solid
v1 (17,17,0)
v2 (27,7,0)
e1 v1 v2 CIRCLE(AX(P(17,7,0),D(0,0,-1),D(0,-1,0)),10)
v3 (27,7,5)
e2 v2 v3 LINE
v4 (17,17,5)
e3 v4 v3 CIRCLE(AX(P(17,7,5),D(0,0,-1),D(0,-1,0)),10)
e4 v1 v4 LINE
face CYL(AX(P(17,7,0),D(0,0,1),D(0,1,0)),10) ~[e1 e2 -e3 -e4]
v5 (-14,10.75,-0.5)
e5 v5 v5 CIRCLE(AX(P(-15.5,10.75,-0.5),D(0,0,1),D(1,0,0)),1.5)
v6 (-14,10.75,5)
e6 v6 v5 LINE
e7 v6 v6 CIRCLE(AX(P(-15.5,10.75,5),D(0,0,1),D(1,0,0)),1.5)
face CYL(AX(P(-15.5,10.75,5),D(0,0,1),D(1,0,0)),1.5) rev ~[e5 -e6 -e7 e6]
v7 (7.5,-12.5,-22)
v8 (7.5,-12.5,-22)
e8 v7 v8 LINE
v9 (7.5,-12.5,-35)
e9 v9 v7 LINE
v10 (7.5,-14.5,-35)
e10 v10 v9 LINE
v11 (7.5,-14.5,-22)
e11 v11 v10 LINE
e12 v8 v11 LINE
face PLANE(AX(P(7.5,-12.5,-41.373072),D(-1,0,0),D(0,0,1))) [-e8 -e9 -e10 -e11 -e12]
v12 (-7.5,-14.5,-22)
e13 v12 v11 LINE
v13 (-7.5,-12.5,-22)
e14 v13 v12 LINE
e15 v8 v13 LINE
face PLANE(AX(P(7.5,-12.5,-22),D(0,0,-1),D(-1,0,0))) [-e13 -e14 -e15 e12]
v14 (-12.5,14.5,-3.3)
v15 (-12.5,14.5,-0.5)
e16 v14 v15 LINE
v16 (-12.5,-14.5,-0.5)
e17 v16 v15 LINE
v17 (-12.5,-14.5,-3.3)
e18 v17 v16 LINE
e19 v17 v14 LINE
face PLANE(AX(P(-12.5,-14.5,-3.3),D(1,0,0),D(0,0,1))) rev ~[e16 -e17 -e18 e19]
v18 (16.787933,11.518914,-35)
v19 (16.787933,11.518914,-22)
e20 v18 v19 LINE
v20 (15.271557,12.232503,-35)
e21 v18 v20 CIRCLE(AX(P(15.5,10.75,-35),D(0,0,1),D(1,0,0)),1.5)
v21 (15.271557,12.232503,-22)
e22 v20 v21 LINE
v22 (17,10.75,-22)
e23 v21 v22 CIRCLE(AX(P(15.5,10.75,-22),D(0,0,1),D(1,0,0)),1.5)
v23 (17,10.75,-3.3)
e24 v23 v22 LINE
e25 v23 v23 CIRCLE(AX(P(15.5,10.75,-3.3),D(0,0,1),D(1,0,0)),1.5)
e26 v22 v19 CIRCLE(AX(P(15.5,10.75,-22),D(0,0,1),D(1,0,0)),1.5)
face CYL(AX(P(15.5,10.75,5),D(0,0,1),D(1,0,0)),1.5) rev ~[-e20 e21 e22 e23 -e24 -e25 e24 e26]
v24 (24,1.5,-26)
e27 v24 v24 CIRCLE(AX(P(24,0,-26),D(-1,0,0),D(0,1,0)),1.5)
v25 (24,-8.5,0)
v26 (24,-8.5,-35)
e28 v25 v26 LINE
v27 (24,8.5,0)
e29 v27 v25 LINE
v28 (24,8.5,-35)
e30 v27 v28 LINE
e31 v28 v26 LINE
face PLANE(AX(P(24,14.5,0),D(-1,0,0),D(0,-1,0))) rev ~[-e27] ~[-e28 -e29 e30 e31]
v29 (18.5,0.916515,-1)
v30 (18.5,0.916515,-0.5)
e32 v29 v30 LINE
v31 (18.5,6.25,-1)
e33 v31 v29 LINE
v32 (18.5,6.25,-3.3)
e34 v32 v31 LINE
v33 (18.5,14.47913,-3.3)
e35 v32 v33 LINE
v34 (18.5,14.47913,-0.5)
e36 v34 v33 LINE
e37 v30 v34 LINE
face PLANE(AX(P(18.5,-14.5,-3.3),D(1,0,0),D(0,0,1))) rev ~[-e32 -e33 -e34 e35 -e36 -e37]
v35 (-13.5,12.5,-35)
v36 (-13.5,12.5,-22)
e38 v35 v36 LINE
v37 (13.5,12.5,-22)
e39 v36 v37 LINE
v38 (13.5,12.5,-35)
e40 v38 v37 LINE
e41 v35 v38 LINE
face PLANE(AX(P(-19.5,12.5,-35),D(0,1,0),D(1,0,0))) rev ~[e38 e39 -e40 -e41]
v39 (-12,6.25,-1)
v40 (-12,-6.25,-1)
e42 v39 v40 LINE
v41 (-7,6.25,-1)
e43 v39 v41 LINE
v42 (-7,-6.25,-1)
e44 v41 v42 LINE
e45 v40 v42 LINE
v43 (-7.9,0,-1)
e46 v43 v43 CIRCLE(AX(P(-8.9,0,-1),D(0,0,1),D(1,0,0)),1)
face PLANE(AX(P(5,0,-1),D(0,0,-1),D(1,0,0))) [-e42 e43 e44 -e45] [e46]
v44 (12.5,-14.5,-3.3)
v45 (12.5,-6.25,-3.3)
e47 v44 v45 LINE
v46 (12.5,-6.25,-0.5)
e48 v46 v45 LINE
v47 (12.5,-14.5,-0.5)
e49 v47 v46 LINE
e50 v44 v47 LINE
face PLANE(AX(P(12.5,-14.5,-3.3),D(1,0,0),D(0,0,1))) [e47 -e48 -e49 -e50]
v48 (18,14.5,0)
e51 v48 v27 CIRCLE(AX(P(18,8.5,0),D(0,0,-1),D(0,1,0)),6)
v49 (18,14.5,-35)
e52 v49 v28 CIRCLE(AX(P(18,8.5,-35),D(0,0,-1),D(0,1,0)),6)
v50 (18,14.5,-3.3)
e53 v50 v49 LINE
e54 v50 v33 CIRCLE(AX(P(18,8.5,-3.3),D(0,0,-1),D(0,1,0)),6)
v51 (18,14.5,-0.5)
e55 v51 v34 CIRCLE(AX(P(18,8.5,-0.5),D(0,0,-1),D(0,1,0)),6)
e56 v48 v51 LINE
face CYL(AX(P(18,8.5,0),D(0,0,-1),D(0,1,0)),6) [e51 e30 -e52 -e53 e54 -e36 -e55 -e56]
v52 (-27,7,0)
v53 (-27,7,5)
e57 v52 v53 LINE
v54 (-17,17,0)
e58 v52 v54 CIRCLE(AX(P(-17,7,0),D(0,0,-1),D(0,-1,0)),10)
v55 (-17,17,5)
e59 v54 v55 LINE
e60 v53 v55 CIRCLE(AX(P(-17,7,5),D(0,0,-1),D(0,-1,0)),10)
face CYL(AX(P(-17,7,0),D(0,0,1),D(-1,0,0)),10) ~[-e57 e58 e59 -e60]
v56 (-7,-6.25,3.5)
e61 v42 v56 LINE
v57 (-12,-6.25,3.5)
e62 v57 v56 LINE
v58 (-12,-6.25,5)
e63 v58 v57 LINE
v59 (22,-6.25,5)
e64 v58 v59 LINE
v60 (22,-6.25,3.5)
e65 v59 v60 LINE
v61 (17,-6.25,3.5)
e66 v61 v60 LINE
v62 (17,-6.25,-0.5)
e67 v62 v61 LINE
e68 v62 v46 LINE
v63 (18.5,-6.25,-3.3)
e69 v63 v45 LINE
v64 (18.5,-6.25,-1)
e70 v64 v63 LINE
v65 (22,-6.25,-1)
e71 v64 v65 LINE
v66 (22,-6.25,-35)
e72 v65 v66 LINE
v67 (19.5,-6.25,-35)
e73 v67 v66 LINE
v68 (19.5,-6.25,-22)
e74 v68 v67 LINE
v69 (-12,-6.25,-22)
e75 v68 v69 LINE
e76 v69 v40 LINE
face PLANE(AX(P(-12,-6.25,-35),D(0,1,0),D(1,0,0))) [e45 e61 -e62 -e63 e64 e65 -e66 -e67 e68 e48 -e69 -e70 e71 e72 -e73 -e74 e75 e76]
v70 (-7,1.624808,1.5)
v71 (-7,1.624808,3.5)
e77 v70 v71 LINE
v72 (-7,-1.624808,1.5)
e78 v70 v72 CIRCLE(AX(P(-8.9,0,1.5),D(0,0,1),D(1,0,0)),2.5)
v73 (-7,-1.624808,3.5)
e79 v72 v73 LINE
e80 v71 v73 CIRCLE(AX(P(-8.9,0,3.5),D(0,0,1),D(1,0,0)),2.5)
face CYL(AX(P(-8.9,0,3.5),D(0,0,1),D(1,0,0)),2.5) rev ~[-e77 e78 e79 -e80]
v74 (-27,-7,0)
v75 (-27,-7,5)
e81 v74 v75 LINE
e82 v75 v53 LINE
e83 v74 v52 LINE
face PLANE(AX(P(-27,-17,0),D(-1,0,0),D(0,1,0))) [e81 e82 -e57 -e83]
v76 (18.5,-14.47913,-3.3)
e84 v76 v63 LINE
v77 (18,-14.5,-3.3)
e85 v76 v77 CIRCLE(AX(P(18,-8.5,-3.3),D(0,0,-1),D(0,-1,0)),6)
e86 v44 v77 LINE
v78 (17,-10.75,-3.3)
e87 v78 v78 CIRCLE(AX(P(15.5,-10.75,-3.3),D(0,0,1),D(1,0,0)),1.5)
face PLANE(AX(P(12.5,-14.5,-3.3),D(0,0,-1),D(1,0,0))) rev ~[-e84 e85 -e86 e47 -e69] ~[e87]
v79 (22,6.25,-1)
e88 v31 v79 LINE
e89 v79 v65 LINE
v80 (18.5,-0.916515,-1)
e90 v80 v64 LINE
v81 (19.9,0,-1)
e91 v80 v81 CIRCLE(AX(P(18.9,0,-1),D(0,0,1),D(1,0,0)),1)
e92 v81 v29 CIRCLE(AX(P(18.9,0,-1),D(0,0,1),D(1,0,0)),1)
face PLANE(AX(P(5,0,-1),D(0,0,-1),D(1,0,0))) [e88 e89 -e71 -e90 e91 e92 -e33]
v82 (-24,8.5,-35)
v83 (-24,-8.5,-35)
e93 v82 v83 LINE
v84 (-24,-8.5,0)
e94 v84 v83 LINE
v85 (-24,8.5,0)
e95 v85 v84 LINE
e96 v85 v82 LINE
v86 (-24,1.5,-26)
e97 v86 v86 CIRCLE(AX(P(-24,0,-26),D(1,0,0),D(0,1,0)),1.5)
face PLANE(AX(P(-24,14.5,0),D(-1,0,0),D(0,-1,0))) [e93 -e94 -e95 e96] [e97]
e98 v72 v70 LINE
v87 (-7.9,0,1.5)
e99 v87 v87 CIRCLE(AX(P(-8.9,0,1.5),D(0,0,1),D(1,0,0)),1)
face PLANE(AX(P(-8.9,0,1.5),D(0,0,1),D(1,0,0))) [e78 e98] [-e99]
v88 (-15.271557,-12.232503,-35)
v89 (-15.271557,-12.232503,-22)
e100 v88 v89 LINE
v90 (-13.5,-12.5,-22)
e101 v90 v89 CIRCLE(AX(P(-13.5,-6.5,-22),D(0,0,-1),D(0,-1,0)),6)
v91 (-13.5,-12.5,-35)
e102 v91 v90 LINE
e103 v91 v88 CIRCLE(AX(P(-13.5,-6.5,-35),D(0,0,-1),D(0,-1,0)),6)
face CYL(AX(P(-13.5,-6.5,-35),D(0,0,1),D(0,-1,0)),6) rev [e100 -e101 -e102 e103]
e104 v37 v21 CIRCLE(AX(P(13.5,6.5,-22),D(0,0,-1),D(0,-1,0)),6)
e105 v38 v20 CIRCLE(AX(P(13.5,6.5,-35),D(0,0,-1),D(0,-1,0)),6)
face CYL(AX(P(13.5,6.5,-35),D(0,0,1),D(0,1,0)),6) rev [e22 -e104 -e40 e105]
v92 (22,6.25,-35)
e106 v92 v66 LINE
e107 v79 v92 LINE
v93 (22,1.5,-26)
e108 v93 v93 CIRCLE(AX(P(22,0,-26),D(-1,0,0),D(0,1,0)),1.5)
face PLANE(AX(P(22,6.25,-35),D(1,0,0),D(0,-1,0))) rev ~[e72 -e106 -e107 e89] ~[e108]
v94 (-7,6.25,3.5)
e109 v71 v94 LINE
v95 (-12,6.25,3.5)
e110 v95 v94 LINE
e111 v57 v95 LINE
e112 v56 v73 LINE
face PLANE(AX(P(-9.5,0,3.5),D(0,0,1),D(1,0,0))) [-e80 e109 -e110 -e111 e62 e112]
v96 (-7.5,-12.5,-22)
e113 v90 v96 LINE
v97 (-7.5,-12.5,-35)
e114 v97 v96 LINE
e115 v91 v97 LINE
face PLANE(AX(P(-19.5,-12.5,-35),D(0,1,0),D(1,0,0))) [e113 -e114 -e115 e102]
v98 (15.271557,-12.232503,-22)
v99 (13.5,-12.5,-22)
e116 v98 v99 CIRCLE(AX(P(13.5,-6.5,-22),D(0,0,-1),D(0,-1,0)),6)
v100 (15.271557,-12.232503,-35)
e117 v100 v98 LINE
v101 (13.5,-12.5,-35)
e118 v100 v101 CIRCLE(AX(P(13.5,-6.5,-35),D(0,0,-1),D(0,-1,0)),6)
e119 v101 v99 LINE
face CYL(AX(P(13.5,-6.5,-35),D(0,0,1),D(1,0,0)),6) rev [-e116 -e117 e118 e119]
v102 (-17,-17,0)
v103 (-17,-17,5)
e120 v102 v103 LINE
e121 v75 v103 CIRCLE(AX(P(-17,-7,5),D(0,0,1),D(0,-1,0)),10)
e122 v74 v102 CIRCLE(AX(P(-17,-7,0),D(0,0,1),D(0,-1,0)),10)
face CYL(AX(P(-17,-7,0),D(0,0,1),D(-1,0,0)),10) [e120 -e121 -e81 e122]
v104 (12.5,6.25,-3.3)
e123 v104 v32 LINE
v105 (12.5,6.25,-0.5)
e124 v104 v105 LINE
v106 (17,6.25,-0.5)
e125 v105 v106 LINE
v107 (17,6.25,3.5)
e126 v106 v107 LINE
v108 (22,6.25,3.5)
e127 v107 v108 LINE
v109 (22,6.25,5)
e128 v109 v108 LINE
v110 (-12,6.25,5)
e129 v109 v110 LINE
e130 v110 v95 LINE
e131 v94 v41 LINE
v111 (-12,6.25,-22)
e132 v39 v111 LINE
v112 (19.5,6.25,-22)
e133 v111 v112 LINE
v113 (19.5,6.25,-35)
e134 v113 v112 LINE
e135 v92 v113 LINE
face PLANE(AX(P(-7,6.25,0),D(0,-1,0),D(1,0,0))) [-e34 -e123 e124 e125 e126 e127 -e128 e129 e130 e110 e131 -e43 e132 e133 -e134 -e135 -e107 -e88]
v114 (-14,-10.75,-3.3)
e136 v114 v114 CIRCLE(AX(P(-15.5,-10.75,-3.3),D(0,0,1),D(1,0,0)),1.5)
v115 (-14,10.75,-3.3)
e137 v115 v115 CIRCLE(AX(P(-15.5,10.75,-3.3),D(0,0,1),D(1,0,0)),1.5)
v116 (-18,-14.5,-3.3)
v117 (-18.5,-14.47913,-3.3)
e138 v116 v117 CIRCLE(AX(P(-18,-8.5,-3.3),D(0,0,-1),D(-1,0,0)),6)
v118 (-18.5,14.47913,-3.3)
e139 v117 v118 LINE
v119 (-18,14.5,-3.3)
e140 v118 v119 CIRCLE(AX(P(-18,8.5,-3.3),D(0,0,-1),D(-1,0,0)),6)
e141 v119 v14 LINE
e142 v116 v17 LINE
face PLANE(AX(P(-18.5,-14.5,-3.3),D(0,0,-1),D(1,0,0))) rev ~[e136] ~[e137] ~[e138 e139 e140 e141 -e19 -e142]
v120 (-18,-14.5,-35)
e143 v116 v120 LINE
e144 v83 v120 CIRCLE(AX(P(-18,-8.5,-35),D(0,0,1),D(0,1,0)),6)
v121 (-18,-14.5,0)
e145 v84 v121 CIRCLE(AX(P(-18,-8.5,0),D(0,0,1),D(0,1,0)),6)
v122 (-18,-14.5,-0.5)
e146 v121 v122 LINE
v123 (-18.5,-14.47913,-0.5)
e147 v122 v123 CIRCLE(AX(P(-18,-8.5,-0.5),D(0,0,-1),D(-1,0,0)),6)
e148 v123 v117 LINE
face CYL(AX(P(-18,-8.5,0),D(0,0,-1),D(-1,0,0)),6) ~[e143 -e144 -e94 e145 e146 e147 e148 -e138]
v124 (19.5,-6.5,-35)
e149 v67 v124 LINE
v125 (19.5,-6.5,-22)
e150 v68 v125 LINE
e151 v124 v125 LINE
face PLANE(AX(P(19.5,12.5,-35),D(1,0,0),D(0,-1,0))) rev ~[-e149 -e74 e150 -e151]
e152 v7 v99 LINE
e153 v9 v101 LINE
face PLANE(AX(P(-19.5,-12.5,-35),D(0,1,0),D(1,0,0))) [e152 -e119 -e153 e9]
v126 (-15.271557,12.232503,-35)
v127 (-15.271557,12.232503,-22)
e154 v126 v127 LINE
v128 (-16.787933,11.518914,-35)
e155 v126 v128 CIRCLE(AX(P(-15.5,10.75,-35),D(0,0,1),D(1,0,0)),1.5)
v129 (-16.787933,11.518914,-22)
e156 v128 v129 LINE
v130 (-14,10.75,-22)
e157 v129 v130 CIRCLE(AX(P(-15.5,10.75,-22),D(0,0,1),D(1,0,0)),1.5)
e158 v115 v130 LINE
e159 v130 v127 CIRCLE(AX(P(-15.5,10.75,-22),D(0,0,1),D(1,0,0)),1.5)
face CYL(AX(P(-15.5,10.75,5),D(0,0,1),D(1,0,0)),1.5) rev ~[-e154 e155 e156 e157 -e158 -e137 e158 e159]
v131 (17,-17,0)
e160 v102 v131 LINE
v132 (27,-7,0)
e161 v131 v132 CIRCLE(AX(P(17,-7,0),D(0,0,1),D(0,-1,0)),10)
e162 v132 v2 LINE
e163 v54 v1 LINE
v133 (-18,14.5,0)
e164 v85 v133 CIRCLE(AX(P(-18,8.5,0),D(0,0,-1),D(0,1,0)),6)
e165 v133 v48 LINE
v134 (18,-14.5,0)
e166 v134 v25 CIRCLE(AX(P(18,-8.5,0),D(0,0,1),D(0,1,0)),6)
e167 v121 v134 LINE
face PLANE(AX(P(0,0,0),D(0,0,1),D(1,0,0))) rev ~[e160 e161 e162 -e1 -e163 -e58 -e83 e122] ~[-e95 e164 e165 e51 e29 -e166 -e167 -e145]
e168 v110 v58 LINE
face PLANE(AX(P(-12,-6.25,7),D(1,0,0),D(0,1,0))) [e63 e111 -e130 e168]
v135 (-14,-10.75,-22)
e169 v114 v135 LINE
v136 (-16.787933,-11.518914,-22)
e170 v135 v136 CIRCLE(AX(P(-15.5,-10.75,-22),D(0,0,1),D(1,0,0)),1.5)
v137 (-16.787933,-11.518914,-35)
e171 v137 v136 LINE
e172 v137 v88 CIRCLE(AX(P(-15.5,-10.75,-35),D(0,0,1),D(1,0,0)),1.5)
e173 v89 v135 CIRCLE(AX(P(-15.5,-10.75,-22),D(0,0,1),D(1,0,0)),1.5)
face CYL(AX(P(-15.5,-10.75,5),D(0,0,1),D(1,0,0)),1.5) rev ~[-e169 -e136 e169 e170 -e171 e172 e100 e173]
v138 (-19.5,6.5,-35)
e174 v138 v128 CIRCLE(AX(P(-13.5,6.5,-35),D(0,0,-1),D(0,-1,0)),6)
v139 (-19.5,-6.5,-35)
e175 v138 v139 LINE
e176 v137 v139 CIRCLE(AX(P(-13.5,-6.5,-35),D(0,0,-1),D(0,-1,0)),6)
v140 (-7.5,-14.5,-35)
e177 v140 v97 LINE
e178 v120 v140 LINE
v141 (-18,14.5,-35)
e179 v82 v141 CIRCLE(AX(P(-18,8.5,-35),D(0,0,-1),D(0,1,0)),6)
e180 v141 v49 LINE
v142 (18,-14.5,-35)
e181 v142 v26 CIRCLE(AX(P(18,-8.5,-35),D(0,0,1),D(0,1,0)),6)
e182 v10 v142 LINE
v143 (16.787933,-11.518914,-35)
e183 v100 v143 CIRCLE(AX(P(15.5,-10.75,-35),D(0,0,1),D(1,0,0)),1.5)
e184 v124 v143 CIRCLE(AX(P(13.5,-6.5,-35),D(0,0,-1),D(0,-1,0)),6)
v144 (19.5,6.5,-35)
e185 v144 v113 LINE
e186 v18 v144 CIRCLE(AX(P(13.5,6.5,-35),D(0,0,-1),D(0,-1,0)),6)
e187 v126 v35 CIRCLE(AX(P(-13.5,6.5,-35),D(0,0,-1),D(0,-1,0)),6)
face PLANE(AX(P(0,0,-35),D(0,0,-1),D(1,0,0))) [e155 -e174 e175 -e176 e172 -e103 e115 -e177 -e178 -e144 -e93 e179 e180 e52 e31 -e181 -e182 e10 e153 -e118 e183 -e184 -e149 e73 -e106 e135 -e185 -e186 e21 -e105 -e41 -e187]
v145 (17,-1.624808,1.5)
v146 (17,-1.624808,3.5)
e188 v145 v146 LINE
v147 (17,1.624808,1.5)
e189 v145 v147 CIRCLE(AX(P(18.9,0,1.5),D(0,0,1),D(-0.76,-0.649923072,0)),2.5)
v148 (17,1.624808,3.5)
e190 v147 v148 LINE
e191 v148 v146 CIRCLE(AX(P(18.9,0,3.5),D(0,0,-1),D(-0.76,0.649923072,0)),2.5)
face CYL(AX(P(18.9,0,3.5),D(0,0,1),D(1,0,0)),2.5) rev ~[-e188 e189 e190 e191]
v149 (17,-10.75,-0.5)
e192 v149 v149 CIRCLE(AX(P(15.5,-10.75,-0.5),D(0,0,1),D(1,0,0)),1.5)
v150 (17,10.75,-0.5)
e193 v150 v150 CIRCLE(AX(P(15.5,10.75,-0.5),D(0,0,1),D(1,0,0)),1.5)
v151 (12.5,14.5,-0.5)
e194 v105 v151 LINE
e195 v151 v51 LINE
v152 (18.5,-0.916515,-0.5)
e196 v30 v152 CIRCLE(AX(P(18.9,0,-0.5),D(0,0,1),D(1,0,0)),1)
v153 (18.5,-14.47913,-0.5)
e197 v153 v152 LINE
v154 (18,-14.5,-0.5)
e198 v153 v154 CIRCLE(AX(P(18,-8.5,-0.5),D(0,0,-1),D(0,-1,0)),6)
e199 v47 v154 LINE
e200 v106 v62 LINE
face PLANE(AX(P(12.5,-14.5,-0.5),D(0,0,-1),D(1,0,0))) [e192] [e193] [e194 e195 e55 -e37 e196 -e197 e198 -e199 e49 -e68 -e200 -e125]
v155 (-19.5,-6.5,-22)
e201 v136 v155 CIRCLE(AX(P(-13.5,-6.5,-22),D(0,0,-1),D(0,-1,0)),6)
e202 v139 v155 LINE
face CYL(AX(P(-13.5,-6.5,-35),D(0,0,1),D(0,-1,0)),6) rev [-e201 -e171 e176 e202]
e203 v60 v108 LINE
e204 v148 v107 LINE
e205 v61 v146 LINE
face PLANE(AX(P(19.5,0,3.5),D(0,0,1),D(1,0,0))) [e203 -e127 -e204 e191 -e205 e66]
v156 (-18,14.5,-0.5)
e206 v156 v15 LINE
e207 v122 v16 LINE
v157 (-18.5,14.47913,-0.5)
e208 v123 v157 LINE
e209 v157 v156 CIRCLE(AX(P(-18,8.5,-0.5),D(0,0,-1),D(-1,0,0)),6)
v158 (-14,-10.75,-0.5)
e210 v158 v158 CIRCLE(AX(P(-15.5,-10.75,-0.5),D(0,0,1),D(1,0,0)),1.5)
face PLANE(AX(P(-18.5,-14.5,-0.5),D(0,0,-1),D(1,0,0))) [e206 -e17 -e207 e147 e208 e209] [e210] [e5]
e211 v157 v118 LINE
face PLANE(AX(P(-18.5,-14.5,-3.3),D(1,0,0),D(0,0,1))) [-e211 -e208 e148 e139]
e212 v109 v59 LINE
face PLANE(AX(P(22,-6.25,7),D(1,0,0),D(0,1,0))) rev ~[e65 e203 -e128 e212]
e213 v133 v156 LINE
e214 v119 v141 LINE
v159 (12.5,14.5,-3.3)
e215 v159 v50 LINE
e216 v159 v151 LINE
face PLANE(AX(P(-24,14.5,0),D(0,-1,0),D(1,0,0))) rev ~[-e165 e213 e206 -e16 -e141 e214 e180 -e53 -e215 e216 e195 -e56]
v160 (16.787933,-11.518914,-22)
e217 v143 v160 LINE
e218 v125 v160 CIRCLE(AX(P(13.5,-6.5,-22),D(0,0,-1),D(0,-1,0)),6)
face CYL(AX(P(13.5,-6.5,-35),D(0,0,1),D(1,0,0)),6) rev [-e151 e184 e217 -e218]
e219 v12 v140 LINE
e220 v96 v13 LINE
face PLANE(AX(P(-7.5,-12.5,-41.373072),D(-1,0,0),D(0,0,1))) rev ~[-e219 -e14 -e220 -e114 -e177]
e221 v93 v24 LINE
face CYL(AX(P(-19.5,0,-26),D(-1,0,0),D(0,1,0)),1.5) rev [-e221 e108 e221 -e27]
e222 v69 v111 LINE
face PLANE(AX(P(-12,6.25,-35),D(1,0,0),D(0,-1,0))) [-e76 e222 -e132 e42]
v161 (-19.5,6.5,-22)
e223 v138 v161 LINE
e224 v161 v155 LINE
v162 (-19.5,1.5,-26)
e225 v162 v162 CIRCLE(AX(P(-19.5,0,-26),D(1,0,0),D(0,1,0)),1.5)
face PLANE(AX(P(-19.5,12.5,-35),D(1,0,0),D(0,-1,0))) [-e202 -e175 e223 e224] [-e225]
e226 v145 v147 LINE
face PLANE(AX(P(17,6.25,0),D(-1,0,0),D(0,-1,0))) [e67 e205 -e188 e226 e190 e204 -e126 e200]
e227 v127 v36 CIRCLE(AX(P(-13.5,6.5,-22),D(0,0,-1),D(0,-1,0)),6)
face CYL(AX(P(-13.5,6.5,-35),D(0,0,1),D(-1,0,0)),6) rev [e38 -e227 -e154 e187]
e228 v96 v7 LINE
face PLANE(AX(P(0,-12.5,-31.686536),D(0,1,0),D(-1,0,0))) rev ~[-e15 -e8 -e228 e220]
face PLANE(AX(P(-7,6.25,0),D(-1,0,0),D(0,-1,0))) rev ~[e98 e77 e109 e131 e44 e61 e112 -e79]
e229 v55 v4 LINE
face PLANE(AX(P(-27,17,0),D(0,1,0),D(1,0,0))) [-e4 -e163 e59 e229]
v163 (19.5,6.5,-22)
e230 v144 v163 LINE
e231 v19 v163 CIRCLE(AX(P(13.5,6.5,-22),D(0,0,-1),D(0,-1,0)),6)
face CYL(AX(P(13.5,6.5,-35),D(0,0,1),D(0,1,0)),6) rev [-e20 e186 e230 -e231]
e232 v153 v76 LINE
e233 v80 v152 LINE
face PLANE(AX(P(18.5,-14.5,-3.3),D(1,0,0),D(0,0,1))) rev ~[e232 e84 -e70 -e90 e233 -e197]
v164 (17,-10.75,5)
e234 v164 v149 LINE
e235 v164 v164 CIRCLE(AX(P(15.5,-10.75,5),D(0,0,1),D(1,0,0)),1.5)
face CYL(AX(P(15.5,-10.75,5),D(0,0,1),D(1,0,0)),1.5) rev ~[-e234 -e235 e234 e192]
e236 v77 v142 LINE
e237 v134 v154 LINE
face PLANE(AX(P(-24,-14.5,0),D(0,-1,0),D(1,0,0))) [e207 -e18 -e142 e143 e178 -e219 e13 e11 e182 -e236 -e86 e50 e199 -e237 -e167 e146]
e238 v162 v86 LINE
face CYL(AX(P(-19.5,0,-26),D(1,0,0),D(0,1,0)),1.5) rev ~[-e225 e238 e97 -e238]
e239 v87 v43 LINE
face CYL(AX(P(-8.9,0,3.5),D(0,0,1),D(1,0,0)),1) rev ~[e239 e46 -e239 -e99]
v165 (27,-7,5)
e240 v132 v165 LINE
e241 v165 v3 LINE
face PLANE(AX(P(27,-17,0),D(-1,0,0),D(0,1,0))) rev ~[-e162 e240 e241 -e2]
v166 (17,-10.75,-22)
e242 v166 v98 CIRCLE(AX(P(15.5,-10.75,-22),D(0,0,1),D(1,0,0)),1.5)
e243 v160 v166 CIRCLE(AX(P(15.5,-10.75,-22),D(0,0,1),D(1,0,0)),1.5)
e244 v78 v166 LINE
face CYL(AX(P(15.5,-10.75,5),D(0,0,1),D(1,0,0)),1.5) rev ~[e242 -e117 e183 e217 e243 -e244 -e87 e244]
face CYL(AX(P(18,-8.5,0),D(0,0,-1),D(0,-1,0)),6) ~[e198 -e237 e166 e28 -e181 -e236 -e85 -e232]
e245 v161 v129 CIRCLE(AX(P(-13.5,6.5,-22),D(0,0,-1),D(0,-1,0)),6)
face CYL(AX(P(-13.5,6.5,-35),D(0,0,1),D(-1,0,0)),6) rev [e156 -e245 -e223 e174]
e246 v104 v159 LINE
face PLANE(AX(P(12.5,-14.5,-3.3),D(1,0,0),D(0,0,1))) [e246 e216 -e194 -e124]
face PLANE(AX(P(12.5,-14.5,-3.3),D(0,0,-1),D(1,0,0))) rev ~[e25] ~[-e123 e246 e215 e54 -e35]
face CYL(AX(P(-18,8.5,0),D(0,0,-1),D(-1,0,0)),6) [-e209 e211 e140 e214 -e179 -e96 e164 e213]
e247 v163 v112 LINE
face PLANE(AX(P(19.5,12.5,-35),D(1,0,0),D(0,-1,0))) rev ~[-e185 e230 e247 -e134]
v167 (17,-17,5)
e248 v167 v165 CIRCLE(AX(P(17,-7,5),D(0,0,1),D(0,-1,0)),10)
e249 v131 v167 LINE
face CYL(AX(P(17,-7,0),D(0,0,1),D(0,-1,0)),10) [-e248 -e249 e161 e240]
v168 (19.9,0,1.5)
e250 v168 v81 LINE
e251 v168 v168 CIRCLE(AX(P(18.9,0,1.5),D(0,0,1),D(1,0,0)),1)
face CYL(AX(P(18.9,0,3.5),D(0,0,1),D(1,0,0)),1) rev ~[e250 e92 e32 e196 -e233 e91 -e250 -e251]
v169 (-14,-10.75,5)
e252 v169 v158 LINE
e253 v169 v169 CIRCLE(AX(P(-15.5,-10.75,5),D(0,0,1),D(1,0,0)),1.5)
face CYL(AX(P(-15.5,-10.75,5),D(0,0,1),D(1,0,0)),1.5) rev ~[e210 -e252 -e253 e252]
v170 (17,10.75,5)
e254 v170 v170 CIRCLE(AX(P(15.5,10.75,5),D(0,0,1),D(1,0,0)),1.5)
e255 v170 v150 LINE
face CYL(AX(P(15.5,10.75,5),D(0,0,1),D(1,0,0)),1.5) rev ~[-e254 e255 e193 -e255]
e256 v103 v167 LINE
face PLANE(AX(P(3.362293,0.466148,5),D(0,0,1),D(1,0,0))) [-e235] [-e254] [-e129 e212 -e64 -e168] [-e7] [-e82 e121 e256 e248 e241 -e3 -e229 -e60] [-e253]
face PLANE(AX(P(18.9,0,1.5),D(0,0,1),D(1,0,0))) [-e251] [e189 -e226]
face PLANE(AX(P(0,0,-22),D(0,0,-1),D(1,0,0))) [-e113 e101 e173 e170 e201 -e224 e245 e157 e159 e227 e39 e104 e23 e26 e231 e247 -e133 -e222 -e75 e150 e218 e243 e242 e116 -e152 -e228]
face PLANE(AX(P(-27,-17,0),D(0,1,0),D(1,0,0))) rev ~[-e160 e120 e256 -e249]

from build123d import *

# Parameters (mm, degrees)
SKETCH_W             = 54
SKETCH_H             = 34
SKETCH_W_2           = 24
SKETCH_H_2           = 12.5
PAD_DEPTH            = 7
SKETCH001_W          = 5
SKETCH001_H          = 12.5
POCKET_DEPTH         = 3.5
SKETCH002_W          = 48
SKETCH002_H          = 29
SKETCH002_W_2        = 24
SKETCH002_H_2        = 12.5
PAD001_DEPTH         = 35
SKETCH003_R          = 1
POCKET001_DEPTH      = 38.501
SKETCH004_W          = 34
SKETCH004_H          = 12.5
POCKET002_DEPTH      = 30
SKETCH005_W          = 39
SKETCH005_H          = 25
POCKET003_DEPTH      = 13
FILLET_R             = 6
SKETCH007_R          = 1.5
POCKET004_DEPTH      = 100
POCKET004_DEPTH_BACK = -100
SKETCH008_W          = 79.100983
SKETCH008_H          = 51.359413
POCKET005_DEPTH      = 2
SKETCH009_W          = 34
SKETCH009_H          = 12.5
POCKET006_DEPTH      = 4
SKETCH010_W          = 15
SKETCH010_H          = 19.373073
POCKET007_DEPTH      = 5
SKETCH011_R          = 1.5
POCKET008_DEPTH      = 40.001
SKETCH012_W          = 6
SKETCH012_H          = 2.8
POCKET009_DEPTH      = 31.501
FILLET001_R          = 10
SKETCH013_R          = 2.5
POCKET010_DEPTH      = 2


with BuildPart() as part:
    # Sketch → Pad (new body)
    with BuildSketch(Plane.XY):
        Rectangle(SKETCH_W, SKETCH_H)
        with Locations((5, 0)):
            Rectangle(SKETCH_W_2, SKETCH_H_2, mode=Mode.SUBTRACT)
    extrude(amount=PAD_DEPTH)

    # Sketch001 (on Face10 of Pad) → Pocket (cut)
    with BuildSketch(Plane.XY.offset(7)):
        with Locations((-9.5, 0)):
            Rectangle(SKETCH001_W, SKETCH001_H)
        with Locations((19.5, 0)):
            Rectangle(SKETCH001_W, SKETCH001_H)
    extrude(amount=-POCKET_DEPTH, mode=Mode.SUBTRACT)

    # Sketch002 (on Face4 of Pocket) → Pad001 (join)
    with BuildSketch(Plane(origin=(0, 0, 0), x_dir=(1, 0, 0), z_dir=(0, 0, -1))):
        Rectangle(SKETCH002_W, SKETCH002_H)
        with Locations((5, 0)):
            Rectangle(SKETCH002_W_2, SKETCH002_H_2, mode=Mode.SUBTRACT)
    extrude(amount=PAD001_DEPTH)

    # Sketch003 (on Face24 of Pad001) → Pocket001 (cut, through all)
    with BuildSketch(Plane.XY.offset(3.5)):
        with Locations((-8.9, 0)):
            Circle(SKETCH003_R)
        with Locations((18.9, 0)):
            Circle(SKETCH003_R)
    extrude(amount=-POCKET001_DEPTH, mode=Mode.SUBTRACT)

    # Sketch004 (on Face19 of Pocket001) → Pocket002 (cut)
    with BuildSketch(Plane(origin=(0, 0, -35), x_dir=(1, 0, 0), z_dir=(0, 0, -1))):
        with Locations((5, 0)):
            Rectangle(SKETCH004_W, SKETCH004_H)
    extrude(amount=-POCKET002_DEPTH, mode=Mode.SUBTRACT)

    # Sketch005 (on Face19 of Pocket002) → Pocket003 (cut)
    with BuildSketch(Plane(origin=(0, 0, -35), x_dir=(1, 0, 0), z_dir=(0, 0, -1))):
        Rectangle(SKETCH005_W, SKETCH005_H)
    extrude(amount=-POCKET003_DEPTH, mode=Mode.SUBTRACT)

    # Fillet
    fillet_edges = [part.edges().sort_by_distance(p)[0] for p in [
        (-19.5, -12.5, -28.5),
        (19.5, -12.5, -28.5),
        (19.5, 12.5, -28.5),
        (-19.5, 12.5, -28.5),
        (-24, -14.5, -17.5),
        (-24, 14.5, -17.5),
        (24, -14.5, -17.5),
        (24, 14.5, -17.5),
    ]]
    fillet(fillet_edges, radius=FILLET_R)

    # Sketch007 (on Face23 of Fillet) → Pocket004 (cut, two sides)
    with BuildSketch(Plane.YZ.offset(-19.5)) as pocket004_sk:
        with Locations((0, -26)):
            Circle(SKETCH007_R)
    extrude(amount=-POCKET004_DEPTH, mode=Mode.SUBTRACT)
    extrude(pocket004_sk.sketch, amount=-POCKET004_DEPTH_BACK, mode=Mode.SUBTRACT)

    # Sketch008 (on Face17 of Pocket004) → Pocket005 (cut)
    with BuildSketch(Plane.XY.offset(7)):
        with Locations((3.362293, 0.466148)):
            Rectangle(SKETCH008_W, SKETCH008_H)
    extrude(amount=-POCKET005_DEPTH, mode=Mode.SUBTRACT)

    # Sketch009 (on Face39 of Pocket005) → Pocket006 (cut)
    with BuildSketch(Plane(origin=(0, 0, -5), x_dir=(1, 0, 0), z_dir=(0, 0, -1))):
        with Locations((5, 0)):
            Rectangle(SKETCH009_W, SKETCH009_H)
    extrude(amount=-POCKET006_DEPTH, mode=Mode.SUBTRACT)

    # Sketch010 (on Face29 of Pocket006) → Pocket007 (cut)
    with BuildSketch(Plane(origin=(0, -12.5, 0), x_dir=(-1, 0, 0), z_dir=(0, 1, 0))):
        with Locations((0, -31.686536)):
            Rectangle(SKETCH010_W, SKETCH010_H)
    extrude(amount=-POCKET007_DEPTH, mode=Mode.SUBTRACT)

    # Sketch011 (on Face20 of Pocket007) → Pocket008 (cut, through all)
    with BuildSketch(Plane.XY.offset(5)):
        with Locations((-15.5, 10.75)):
            Circle(SKETCH011_R)
        with Locations((15.5, 10.75)):
            Circle(SKETCH011_R)
        with Locations((-15.5, -10.75)):
            Circle(SKETCH011_R)
        with Locations((15.5, -10.75)):
            Circle(SKETCH011_R)
    extrude(amount=-POCKET008_DEPTH, mode=Mode.SUBTRACT)

    # Sketch012 (on Face2 of Pocket008) → Pocket009 (cut, through all)
    with BuildSketch(Plane.XZ.offset(14.5)):
        with Locations((-15.5, -1.9)):
            Rectangle(SKETCH012_W, SKETCH012_H)
        with Locations((15.5, -1.9)):
            Rectangle(SKETCH012_W, SKETCH012_H)
    extrude(amount=-POCKET009_DEPTH, mode=Mode.SUBTRACT)

    # Fillet001
    fillet001_edges = [part.edges().sort_by_distance(p)[0] for p in [
        (27, -17, 2.5),
        (27, 17, 2.5),
        (-27, -17, 2.5),
        (-27, 17, 2.5),
    ]]
    fillet(fillet001_edges, radius=FILLET001_R)

    # Sketch013 (on Face82 of Fillet001) → Pocket010 (cut)
    with BuildSketch(Plane.XY.offset(3.5)):
        with Locations((-8.9, 0)):
            Circle(SKETCH013_R)
        with Locations((18.9, 0)):
            Circle(SKETCH013_R)
    extrude(amount=-POCKET010_DEPTH, mode=Mode.SUBTRACT)


solid = part.part
